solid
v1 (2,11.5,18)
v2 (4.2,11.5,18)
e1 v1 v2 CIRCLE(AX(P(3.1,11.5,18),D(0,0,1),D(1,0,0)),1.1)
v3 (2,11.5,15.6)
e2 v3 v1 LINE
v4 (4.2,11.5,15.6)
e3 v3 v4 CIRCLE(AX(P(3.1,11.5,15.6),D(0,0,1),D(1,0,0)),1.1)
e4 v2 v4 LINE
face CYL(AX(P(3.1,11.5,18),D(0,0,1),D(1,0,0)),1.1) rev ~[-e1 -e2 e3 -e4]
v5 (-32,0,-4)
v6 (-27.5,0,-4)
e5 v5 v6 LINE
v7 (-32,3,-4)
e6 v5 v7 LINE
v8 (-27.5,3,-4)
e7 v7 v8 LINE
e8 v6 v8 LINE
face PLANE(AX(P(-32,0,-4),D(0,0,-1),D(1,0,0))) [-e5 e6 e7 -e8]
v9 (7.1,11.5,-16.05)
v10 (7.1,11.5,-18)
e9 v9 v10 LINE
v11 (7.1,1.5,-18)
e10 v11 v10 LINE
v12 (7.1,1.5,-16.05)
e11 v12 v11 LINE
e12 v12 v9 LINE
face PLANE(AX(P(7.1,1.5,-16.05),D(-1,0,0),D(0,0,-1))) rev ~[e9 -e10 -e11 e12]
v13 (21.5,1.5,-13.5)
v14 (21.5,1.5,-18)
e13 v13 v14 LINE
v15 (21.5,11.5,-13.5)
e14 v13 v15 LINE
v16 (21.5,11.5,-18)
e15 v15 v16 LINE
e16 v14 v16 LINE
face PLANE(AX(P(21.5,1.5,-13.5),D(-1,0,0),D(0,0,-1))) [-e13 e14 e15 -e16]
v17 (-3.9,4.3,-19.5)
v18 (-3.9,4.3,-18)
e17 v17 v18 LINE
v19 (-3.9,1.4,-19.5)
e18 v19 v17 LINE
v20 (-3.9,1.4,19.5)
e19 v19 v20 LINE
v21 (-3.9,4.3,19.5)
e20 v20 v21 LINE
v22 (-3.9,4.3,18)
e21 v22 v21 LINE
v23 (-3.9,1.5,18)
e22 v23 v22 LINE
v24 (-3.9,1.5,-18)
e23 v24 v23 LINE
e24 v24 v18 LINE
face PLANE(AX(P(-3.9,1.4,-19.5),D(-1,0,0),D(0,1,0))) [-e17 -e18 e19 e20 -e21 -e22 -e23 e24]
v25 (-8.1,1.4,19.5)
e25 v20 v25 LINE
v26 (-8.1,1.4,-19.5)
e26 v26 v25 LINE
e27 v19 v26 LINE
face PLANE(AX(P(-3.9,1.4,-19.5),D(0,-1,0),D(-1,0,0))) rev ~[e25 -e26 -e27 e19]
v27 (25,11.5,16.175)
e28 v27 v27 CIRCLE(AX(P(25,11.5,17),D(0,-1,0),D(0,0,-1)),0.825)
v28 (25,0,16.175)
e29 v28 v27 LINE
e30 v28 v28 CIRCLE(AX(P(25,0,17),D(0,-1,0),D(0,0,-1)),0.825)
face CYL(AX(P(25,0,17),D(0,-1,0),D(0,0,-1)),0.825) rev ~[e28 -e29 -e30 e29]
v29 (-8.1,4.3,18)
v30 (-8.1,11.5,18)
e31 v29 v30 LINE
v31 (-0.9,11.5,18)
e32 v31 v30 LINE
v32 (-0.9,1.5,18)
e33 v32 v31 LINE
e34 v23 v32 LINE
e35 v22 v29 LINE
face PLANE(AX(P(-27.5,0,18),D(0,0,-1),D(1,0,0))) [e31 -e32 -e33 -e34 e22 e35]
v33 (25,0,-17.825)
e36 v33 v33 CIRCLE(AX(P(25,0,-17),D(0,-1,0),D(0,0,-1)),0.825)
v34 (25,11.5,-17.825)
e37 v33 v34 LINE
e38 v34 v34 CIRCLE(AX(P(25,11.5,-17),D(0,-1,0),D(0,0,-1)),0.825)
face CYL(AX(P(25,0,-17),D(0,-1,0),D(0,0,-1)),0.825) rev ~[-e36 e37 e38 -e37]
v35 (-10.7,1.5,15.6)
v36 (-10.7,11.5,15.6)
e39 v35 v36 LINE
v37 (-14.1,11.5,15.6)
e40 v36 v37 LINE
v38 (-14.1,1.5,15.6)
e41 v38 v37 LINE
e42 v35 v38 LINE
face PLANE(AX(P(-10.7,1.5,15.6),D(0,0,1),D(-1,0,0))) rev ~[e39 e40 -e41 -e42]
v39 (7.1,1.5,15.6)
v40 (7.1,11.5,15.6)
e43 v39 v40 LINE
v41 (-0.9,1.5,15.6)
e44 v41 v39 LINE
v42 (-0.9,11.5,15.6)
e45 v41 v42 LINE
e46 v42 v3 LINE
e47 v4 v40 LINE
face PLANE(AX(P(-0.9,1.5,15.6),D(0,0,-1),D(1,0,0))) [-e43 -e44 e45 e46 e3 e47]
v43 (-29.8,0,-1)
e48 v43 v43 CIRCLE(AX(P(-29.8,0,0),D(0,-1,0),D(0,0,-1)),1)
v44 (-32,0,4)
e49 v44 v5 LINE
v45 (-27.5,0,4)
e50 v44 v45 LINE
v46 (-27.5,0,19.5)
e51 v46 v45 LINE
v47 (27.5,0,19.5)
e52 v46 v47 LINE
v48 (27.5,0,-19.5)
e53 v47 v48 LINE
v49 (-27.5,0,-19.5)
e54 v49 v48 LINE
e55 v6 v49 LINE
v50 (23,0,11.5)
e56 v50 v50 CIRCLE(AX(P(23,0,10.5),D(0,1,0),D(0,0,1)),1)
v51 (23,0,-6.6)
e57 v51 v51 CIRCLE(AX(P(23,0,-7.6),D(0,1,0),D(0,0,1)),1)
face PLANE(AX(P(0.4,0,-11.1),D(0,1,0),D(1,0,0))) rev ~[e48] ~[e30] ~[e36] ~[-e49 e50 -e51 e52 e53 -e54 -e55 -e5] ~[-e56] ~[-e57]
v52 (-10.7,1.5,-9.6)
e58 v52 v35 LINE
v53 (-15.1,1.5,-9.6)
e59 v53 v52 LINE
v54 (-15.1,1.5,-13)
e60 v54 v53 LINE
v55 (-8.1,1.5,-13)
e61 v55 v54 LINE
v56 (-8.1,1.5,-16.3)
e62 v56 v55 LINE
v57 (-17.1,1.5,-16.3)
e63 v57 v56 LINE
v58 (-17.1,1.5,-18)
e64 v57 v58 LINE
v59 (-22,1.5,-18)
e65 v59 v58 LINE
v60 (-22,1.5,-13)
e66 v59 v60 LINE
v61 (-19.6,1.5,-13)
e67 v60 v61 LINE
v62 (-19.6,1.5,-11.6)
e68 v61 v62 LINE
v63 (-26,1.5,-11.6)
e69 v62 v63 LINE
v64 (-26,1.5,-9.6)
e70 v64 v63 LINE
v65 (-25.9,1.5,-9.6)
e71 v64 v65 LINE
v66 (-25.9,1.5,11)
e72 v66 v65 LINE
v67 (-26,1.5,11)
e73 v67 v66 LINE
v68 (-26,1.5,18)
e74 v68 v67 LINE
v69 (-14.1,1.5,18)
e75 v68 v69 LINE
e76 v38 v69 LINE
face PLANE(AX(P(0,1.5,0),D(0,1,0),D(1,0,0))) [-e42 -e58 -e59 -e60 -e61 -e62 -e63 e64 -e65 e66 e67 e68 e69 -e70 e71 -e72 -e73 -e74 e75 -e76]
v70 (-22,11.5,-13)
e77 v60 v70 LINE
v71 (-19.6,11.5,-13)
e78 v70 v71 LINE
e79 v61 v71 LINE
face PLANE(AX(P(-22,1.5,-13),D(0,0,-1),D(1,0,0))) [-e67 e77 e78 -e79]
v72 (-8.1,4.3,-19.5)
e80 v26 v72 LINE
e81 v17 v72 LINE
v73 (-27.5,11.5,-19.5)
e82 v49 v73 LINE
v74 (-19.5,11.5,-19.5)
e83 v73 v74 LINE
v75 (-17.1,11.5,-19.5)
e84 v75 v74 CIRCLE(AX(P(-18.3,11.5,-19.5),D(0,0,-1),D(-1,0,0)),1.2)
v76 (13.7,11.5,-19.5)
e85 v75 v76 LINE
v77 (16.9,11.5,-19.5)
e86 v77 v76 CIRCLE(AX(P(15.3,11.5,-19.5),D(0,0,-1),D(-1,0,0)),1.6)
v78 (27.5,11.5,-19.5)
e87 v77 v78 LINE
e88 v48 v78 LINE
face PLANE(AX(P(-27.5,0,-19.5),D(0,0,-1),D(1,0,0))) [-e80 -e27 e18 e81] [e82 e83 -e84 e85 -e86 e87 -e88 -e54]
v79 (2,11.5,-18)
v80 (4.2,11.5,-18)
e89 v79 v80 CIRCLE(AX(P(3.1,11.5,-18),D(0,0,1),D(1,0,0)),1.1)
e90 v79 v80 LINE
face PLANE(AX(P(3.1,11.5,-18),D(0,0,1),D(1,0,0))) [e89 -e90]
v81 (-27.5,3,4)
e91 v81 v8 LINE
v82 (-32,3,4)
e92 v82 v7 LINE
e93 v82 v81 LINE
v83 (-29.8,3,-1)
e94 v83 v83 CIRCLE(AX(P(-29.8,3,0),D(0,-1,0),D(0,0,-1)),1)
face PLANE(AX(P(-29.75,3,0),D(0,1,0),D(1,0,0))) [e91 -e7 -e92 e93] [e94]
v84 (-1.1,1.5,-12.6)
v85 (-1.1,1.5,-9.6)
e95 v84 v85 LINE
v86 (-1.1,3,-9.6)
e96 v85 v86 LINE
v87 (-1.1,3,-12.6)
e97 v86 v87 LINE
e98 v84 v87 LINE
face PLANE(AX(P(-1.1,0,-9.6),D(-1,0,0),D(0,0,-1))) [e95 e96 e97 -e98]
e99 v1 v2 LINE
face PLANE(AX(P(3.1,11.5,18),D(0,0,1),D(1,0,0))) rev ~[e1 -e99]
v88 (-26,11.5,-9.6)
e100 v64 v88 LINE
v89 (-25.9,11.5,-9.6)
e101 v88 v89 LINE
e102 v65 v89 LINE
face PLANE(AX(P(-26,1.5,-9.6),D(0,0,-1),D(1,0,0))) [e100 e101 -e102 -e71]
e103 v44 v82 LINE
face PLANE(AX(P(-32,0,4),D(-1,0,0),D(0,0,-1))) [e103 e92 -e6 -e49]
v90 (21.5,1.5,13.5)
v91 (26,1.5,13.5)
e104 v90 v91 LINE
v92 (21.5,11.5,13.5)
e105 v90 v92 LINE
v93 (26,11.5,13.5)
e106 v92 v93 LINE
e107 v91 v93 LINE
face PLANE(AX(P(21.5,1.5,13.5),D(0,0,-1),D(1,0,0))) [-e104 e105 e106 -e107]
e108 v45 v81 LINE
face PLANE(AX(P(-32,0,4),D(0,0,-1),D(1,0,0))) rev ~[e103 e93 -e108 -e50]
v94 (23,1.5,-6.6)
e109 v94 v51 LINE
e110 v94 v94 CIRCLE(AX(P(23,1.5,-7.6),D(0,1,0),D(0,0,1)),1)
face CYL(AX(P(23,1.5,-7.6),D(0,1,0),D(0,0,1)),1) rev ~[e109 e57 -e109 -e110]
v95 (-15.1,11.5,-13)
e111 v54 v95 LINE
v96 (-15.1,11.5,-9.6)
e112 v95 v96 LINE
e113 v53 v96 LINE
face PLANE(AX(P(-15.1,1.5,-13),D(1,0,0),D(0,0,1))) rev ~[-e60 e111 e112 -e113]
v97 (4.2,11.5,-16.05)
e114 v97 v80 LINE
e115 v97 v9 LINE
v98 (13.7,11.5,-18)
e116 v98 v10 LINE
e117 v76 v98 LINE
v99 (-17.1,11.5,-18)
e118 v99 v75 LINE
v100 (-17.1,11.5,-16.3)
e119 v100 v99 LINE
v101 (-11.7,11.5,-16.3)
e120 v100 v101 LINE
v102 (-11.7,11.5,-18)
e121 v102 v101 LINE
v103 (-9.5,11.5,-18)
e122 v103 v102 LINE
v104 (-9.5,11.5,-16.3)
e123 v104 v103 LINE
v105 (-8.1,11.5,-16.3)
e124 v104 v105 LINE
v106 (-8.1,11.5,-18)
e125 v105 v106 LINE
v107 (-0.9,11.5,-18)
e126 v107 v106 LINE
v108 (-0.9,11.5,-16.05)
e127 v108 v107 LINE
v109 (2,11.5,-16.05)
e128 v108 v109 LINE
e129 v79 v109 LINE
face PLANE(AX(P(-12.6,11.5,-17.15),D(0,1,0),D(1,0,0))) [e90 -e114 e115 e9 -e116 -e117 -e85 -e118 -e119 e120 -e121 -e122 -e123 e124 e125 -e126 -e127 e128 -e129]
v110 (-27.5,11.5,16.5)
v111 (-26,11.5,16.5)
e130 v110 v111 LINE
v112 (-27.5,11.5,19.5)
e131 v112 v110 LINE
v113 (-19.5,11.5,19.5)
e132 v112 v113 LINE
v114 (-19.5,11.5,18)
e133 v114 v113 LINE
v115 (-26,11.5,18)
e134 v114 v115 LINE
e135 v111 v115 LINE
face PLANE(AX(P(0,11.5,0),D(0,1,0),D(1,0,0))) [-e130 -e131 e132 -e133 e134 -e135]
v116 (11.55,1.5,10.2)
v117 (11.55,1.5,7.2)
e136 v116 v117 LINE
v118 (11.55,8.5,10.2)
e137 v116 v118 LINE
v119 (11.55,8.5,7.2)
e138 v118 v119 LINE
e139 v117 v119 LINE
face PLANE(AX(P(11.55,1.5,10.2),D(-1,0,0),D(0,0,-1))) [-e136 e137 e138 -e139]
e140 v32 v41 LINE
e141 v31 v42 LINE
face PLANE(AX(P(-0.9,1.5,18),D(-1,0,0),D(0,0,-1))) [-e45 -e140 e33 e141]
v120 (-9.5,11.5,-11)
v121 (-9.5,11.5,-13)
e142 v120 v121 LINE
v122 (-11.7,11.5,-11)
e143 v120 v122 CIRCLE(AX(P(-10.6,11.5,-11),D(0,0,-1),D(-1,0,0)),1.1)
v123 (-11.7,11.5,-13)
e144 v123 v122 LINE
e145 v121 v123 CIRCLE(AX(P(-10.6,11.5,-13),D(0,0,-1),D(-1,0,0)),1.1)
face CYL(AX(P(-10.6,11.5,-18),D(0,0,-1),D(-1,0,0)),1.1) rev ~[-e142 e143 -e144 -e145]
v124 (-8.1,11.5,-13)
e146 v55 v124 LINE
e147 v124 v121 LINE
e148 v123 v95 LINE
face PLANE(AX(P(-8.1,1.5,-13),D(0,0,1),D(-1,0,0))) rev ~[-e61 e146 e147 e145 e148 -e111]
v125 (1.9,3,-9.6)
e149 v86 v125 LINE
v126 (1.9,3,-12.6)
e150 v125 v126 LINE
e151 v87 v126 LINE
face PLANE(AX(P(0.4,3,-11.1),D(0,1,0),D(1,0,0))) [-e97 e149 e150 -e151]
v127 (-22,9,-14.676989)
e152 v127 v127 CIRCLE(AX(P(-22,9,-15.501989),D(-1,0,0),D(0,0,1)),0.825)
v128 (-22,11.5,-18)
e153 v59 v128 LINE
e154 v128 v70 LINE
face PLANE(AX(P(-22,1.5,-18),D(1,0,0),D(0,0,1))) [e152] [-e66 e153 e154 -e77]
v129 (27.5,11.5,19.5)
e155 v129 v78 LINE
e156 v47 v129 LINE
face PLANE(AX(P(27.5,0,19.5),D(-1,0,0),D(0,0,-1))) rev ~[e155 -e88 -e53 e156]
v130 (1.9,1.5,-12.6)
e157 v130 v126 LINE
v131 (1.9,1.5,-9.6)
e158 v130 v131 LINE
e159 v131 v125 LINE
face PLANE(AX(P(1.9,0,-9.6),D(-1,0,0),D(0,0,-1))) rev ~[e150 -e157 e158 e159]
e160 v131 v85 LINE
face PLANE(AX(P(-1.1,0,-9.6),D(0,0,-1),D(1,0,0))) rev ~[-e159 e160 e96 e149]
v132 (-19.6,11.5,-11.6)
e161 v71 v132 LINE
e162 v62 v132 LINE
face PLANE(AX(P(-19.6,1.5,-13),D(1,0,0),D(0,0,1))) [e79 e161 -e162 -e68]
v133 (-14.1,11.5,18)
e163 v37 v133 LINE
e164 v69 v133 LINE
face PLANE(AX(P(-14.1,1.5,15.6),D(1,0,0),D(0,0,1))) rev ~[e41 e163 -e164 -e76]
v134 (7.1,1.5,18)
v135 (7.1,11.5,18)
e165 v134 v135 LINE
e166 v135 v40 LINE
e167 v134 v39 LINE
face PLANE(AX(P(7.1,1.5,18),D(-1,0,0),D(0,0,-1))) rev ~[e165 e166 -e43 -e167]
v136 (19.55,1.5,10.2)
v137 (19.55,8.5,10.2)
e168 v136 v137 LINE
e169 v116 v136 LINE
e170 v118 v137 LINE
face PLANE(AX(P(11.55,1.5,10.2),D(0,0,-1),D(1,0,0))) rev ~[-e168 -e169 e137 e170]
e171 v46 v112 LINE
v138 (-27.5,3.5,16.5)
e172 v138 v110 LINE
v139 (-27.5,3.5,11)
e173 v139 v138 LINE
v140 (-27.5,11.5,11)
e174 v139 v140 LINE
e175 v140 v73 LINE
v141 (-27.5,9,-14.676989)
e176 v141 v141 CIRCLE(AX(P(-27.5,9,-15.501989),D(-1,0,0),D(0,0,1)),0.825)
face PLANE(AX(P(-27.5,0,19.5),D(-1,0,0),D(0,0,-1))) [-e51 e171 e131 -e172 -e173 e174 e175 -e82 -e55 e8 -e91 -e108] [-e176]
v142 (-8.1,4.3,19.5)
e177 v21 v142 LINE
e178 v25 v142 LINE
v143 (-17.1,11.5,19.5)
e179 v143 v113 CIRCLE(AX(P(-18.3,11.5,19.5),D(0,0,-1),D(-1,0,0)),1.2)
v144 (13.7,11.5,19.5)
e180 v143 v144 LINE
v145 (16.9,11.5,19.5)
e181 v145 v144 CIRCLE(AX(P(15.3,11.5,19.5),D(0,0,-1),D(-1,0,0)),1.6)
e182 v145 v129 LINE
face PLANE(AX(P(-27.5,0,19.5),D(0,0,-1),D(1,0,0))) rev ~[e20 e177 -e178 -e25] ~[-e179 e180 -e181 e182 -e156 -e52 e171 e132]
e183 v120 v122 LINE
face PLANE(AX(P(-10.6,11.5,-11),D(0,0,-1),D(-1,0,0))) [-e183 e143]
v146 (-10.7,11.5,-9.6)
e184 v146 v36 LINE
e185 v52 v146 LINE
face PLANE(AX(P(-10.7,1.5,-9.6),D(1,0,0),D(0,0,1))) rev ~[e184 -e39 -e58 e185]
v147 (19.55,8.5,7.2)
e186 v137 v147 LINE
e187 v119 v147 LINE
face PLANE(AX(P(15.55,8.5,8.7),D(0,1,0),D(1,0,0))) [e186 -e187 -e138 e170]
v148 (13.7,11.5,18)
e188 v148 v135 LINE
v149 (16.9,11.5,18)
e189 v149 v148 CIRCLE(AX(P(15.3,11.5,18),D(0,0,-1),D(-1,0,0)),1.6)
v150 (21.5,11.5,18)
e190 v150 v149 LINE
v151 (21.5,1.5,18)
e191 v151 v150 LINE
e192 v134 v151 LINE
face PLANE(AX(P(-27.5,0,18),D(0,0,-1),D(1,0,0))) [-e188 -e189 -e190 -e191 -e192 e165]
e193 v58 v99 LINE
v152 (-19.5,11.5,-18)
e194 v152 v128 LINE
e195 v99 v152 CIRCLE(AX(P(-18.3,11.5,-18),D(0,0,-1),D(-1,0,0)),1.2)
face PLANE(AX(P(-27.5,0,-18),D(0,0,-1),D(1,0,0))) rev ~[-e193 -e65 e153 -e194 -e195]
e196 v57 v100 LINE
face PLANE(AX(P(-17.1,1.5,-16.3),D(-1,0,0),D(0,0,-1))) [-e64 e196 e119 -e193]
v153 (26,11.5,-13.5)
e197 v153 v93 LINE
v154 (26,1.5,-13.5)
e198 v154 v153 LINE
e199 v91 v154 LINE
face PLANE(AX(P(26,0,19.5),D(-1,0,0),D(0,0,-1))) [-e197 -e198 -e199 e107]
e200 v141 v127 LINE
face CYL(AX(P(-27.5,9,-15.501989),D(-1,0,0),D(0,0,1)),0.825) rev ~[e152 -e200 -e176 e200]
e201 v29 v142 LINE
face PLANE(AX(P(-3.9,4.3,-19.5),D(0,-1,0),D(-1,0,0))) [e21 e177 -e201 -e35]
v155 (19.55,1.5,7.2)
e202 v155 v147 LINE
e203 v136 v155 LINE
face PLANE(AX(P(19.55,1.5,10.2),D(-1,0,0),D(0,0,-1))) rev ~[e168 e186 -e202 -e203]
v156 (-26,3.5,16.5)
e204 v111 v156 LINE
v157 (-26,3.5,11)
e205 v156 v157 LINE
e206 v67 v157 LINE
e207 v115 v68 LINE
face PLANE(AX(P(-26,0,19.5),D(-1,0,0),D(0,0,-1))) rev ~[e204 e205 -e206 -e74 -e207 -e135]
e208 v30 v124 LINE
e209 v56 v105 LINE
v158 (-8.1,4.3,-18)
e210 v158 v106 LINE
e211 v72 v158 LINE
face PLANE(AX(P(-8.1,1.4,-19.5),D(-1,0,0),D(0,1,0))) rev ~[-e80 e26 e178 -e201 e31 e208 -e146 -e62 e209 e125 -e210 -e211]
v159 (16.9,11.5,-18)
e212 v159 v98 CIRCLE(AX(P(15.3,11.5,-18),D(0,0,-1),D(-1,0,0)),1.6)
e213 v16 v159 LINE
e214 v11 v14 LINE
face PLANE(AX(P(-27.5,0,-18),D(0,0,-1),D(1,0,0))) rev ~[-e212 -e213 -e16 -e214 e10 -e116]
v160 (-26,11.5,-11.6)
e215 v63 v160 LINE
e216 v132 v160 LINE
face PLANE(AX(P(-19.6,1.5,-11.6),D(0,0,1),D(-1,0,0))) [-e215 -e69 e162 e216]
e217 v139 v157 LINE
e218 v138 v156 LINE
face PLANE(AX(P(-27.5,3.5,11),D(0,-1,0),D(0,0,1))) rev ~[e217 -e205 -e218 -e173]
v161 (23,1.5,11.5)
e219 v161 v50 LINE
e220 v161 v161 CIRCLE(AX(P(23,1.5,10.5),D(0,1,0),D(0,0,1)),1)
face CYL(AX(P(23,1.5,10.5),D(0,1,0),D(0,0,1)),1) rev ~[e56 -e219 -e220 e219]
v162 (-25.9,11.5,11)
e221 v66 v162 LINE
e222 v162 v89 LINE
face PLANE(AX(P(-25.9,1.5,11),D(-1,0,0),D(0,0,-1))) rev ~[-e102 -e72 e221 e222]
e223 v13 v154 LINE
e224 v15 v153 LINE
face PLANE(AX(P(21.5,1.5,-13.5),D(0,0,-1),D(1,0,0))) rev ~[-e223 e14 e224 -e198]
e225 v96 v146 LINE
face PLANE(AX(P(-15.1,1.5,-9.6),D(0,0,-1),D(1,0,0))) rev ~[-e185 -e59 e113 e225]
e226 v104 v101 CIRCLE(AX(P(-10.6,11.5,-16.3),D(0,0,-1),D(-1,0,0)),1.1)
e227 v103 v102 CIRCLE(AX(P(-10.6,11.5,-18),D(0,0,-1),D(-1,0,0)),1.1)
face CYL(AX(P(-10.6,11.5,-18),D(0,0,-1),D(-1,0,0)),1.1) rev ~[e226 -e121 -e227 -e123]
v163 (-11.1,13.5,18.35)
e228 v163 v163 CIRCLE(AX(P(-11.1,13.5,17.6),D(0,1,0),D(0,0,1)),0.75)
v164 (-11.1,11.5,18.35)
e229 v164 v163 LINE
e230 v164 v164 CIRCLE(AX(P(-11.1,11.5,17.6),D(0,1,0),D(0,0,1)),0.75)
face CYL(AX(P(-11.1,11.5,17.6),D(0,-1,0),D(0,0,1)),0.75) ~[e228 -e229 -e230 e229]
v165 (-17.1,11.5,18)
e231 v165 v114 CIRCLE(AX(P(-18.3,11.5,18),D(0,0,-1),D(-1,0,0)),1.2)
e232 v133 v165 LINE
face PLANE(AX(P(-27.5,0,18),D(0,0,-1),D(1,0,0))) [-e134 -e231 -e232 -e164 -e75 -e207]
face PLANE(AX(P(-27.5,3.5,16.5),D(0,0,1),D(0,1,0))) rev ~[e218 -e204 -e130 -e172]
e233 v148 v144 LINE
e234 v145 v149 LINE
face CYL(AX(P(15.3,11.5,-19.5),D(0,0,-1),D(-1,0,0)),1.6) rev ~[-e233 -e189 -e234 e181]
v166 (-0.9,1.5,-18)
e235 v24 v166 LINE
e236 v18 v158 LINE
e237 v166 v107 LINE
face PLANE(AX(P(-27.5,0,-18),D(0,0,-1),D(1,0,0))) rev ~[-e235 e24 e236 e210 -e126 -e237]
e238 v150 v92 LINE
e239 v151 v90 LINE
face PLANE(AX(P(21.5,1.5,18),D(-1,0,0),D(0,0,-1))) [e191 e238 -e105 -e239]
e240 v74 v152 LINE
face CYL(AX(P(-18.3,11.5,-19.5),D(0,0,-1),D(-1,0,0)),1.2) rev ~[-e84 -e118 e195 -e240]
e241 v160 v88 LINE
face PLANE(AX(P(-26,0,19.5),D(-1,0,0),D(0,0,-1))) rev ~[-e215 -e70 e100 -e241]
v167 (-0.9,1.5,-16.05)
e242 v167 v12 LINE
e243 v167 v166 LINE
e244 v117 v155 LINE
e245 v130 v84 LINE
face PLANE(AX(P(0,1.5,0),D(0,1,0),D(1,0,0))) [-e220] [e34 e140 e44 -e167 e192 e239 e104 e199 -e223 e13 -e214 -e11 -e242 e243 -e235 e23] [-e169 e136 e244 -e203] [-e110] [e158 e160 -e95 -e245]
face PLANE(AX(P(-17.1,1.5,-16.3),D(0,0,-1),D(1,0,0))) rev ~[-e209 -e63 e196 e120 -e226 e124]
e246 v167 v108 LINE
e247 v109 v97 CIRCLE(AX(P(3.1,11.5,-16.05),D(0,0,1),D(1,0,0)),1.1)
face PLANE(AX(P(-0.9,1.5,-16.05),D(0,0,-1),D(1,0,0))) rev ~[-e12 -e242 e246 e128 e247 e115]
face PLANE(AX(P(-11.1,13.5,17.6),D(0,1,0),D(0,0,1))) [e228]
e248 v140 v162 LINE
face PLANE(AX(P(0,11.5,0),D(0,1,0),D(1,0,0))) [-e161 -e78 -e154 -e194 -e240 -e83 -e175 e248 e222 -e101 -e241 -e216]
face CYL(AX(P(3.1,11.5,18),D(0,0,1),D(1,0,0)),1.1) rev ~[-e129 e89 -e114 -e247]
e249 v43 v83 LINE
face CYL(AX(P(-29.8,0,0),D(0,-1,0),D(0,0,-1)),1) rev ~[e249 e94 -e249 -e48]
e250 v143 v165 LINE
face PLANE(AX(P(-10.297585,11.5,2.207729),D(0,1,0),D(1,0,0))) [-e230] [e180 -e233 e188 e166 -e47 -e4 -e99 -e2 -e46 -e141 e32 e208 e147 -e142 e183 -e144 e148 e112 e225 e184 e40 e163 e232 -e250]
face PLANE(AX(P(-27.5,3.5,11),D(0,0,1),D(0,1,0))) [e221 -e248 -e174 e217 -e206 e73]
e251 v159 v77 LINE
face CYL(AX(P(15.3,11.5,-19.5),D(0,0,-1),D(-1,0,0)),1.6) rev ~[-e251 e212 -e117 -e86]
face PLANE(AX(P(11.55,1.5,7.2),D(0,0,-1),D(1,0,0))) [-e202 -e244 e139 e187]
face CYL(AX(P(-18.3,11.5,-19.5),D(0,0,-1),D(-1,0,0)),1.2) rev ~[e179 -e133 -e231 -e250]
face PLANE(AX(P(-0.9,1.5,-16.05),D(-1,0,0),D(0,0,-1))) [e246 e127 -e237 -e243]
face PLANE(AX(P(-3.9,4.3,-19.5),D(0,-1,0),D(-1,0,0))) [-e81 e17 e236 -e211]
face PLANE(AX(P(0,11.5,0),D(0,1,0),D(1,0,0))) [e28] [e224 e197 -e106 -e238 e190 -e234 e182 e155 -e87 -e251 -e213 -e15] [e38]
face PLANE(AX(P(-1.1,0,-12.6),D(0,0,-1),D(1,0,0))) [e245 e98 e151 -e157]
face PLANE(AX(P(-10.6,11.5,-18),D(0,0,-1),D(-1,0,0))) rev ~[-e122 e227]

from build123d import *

# Parameters (mm, degrees)
SKETCH_1_W            = 55
SKETCH_1_H            = 39
EXTRUDE_1_DEPTH       = 11.5
SHELL_1_T             = -1.5
SKETCH_2_R            = 1.6
SKETCH_2_R_2          = 1.2
SKETCH_2_W            = 4.2
SKETCH_2_H            = 2.9
CUT_EXTRUDE_1_DEPTH   = 50.086658065
SKETCH_3_W            = 0.1
SKETCH_3_H            = 20.6
SKETCH_3_W_2          = 9
SKETCH_3_H_2          = 1.7
SKETCH_3_W_3          = 8
SKETCH_3_H_3          = 1.95
SKETCH_3_H_4          = 2.4
SKETCH_3_W_4          = 4.5
SKETCH_3_H_5          = 4.5
EXTRUDE_2_DEPTH       = 10
CUT_EXTRUDE_START     = -1.5
SKETCH_4_R            = 1.1
CUT_EXTRUDE_2_DEPTH   = 36
SKETCH_5_R            = 1.1
CUT_EXTRUDE_3_DEPTH   = 7
EXTRUDE_3_DEPTH       = 1.5
EXTRUDE_3_DEPTH_BACK  = 1.5
SKETCH_6_W            = 3
SKETCH_6_H            = 3
SKETCH_6_W_2          = 4.5
SKETCH_6_H_2          = 8
SKETCH_7_R            = 1
SKETCH_7_R_2          = 0.825
CUT_EXTRUDE_4_DEPTH   = 40.198214245
SKETCH_8_R            = 1
CUT_EXTRUDE_5_DEPTH   = 39.784661917
CUT_EXTRUDE_6_REACH   = 61.477
SKETCH_9_R            = 0.825
SKETCH_10_W           = 8
SKETCH_10_H           = 3
F_3MM_4_DEPTH         = 7
CUT_EXTRUDE_4_2_REACH = 61.477
SKETCH_11_W           = 5.5
SKETCH_11_H           = 8
SKETCH_12_R           = 0.75
EXTRUDE_5_DEPTH       = 2


with BuildPart() as part:
    # 草图1 → 凸台-拉伸1 (new body)
    with BuildSketch(Plane(origin=(0, 0, 0), x_dir=(1, 0, 0), z_dir=(0, 1, 0))):
        Rectangle(SKETCH_1_W, SKETCH_1_H)
    extrude(amount=EXTRUDE_1_DEPTH)

    # 抽壳1
    shell_1_openings = [part.faces().sort_by_distance(p)[0] for p in [
        (0, 11.5, 0),
    ]]
    offset(amount=SHELL_1_T, openings=shell_1_openings, kind=Kind.INTERSECTION)

    # 草图2 → 切除-拉伸1 (cut, through all)
    with BuildSketch(Plane(origin=(0, 0, -19.5), x_dir=(-1, 0, 0), z_dir=(0, 0, -1))):
        with Locations((-15.3, 11.5)):
            Circle(SKETCH_2_R)
        with Locations((18.3, 11.5)):
            Circle(SKETCH_2_R_2)
        with Locations((6, 2.85)):
            Rectangle(SKETCH_2_W, SKETCH_2_H)
    extrude(amount=-CUT_EXTRUDE_1_DEPTH, mode=Mode.SUBTRACT)

    # 草图3 → 凸台-拉伸2 (add)
    with BuildSketch(Plane(origin=(0, 1.5, 0), x_dir=(1, 0, 0), z_dir=(0, 1, 0))):
        Polygon((-10.7, 9.6), (-10.7, -15.6), (-14.1, -15.6), (-14.1, -18), (-10.7, -18), (-8.1, -18), (-8.1, 13), (-15.1, 13), (-15.1, 9.6), align=None)
        with Locations((-25.95, -0.7)):
            Rectangle(SKETCH_3_W, SKETCH_3_H)
        with Locations((-12.6, 17.15)):
            Rectangle(SKETCH_3_W_2, SKETCH_3_H_2)
        with Locations((3.1, 17.025)):
            Rectangle(SKETCH_3_W_3, SKETCH_3_H_3)
        with Locations((3.1, -16.8)):
            Rectangle(SKETCH_3_W_3, SKETCH_3_H_4)
        with Locations((23.75, 15.75)):
            Rectangle(SKETCH_3_W_4, SKETCH_3_H_5)
        with Locations((23.75, -15.75)):
            Rectangle(SKETCH_3_W_4, SKETCH_3_H_5)
        Polygon((-26, 18), (-22, 18), (-22, 13), (-19.6, 13), (-19.6, 11.6), (-26, 11.6), (-26, 13), align=None)
    extrude(amount=EXTRUDE_2_DEPTH)

    # 草图4 → 切除-拉伸2 (cut)
    with BuildSketch(Plane.XY.offset(19.5).offset(CUT_EXTRUDE_START)):
        with Locations((3.1, 11.5)):
            Circle(SKETCH_4_R)
    extrude(amount=-CUT_EXTRUDE_2_DEPTH, mode=Mode.SUBTRACT)

    # 草图5 → 切除-拉伸3 (cut)
    with BuildSketch(Plane(origin=(0, 0, -19.5), x_dir=(-1, 0, 0), z_dir=(0, 0, -1)).offset(CUT_EXTRUDE_START)):
        with Locations((10.6, 11.5)):
            Circle(SKETCH_5_R)
    extrude(amount=-CUT_EXTRUDE_3_DEPTH, mode=Mode.SUBTRACT)

    # 草图6 → 变速卡位凸台-拉伸3 (add, two sides: drawn at the far end of the back side and taken through both)
    with BuildSketch(Plane(origin=(0, 1.5, 0), x_dir=(1, 0, 0), z_dir=(0, 1, 0)).offset(-EXTRUDE_3_DEPTH_BACK)):
        with Locations((0.4, 11.1)):
            Rectangle(SKETCH_6_W, SKETCH_6_H)
        with Locations((-29.75, 0)):
            Rectangle(SKETCH_6_W_2, SKETCH_6_H_2)
    extrude(amount=EXTRUDE_3_DEPTH + EXTRUDE_3_DEPTH_BACK)

    # 草图7 → Cut-Extrude 4 (cut, through all)
    with BuildSketch(Plane.XZ):
        with Locations(Location((-29.8, 0, 0), (0, 0, 270))):
            Circle(SKETCH_7_R)
        with Locations(Location((25, 17, 0), (0, 0, 270))):
            Circle(SKETCH_7_R_2)
        with Locations(Location((25, -17, 0), (0, 0, 270))):
            Circle(SKETCH_7_R_2)
    extrude(amount=-CUT_EXTRUDE_4_DEPTH, mode=Mode.SUBTRACT)

    # 草图8 → 底部螺丝孔切除-拉伸5 (cut, through all)
    with BuildSketch(Plane(origin=(0, 1.5, 0), x_dir=(1, 0, 0), z_dir=(0, 1, 0))):
        with Locations(Location((23, 7.6, 0), (0, 0, 270))):
            Circle(SKETCH_8_R)
        with Locations(Location((23, -10.5, 0), (0, 0, 270))):
            Circle(SKETCH_8_R)
    extrude(amount=-CUT_EXTRUDE_5_DEPTH, mode=Mode.SUBTRACT)

    # 草图9 → 前螺丝孔切除-拉伸6 (cut, up to next)
    with BuildSketch(Plane.ZY.offset(27.5), mode=Mode.PRIVATE) as cut_extrude_6_sk1:
        with Locations((-15.501988962, 9)):
            Circle(SKETCH_9_R)
    cut_extrude_6_tool1 = extrude(cut_extrude_6_sk1.sketch, amount=-CUT_EXTRUDE_6_REACH, mode=Mode.PRIVATE) & part.part
    add(cut_extrude_6_tool1.solids().sort_by_distance((-27.5, 9, -15.501989))[0], mode=Mode.SUBTRACT)

    # 草图10 → 3mm轴卡位凸台-拉伸4 (add)
    with BuildSketch(Plane(origin=(0, 1.5, 0), x_dir=(1, 0, 0), z_dir=(0, 1, 0))):
        with Locations((15.55, -8.7)):
            Rectangle(SKETCH_10_W, SKETCH_10_H)
    extrude(amount=F_3MM_4_DEPTH)

    # 草图11 → Cut-Extrude 4 2 (cut, up to next)
    with BuildSketch(Plane.ZY.offset(27.5), mode=Mode.PRIVATE) as cut_extrude_4_2_sk1:
        with Locations((13.75, 7.5)):
            Rectangle(SKETCH_11_W, SKETCH_11_H)
    cut_extrude_4_2_tool1 = extrude(cut_extrude_4_2_sk1.sketch, amount=-CUT_EXTRUDE_4_2_REACH, mode=Mode.PRIVATE) & part.part
    add(cut_extrude_4_2_tool1.solids().sort_by_distance((-27.5, 7.5, 13.75))[0], mode=Mode.SUBTRACT)

    # 草图12 → 凸台-拉伸5 (add)
    with BuildSketch(Plane(origin=(0, 11.5, 0), x_dir=(1, 0, 0), z_dir=(0, 1, 0))):
        with Locations(Location((-11.1, -17.6, 0), (0, 0, 270))):
            Circle(SKETCH_12_R)
    extrude(amount=EXTRUDE_5_DEPTH)


solid = part.part
